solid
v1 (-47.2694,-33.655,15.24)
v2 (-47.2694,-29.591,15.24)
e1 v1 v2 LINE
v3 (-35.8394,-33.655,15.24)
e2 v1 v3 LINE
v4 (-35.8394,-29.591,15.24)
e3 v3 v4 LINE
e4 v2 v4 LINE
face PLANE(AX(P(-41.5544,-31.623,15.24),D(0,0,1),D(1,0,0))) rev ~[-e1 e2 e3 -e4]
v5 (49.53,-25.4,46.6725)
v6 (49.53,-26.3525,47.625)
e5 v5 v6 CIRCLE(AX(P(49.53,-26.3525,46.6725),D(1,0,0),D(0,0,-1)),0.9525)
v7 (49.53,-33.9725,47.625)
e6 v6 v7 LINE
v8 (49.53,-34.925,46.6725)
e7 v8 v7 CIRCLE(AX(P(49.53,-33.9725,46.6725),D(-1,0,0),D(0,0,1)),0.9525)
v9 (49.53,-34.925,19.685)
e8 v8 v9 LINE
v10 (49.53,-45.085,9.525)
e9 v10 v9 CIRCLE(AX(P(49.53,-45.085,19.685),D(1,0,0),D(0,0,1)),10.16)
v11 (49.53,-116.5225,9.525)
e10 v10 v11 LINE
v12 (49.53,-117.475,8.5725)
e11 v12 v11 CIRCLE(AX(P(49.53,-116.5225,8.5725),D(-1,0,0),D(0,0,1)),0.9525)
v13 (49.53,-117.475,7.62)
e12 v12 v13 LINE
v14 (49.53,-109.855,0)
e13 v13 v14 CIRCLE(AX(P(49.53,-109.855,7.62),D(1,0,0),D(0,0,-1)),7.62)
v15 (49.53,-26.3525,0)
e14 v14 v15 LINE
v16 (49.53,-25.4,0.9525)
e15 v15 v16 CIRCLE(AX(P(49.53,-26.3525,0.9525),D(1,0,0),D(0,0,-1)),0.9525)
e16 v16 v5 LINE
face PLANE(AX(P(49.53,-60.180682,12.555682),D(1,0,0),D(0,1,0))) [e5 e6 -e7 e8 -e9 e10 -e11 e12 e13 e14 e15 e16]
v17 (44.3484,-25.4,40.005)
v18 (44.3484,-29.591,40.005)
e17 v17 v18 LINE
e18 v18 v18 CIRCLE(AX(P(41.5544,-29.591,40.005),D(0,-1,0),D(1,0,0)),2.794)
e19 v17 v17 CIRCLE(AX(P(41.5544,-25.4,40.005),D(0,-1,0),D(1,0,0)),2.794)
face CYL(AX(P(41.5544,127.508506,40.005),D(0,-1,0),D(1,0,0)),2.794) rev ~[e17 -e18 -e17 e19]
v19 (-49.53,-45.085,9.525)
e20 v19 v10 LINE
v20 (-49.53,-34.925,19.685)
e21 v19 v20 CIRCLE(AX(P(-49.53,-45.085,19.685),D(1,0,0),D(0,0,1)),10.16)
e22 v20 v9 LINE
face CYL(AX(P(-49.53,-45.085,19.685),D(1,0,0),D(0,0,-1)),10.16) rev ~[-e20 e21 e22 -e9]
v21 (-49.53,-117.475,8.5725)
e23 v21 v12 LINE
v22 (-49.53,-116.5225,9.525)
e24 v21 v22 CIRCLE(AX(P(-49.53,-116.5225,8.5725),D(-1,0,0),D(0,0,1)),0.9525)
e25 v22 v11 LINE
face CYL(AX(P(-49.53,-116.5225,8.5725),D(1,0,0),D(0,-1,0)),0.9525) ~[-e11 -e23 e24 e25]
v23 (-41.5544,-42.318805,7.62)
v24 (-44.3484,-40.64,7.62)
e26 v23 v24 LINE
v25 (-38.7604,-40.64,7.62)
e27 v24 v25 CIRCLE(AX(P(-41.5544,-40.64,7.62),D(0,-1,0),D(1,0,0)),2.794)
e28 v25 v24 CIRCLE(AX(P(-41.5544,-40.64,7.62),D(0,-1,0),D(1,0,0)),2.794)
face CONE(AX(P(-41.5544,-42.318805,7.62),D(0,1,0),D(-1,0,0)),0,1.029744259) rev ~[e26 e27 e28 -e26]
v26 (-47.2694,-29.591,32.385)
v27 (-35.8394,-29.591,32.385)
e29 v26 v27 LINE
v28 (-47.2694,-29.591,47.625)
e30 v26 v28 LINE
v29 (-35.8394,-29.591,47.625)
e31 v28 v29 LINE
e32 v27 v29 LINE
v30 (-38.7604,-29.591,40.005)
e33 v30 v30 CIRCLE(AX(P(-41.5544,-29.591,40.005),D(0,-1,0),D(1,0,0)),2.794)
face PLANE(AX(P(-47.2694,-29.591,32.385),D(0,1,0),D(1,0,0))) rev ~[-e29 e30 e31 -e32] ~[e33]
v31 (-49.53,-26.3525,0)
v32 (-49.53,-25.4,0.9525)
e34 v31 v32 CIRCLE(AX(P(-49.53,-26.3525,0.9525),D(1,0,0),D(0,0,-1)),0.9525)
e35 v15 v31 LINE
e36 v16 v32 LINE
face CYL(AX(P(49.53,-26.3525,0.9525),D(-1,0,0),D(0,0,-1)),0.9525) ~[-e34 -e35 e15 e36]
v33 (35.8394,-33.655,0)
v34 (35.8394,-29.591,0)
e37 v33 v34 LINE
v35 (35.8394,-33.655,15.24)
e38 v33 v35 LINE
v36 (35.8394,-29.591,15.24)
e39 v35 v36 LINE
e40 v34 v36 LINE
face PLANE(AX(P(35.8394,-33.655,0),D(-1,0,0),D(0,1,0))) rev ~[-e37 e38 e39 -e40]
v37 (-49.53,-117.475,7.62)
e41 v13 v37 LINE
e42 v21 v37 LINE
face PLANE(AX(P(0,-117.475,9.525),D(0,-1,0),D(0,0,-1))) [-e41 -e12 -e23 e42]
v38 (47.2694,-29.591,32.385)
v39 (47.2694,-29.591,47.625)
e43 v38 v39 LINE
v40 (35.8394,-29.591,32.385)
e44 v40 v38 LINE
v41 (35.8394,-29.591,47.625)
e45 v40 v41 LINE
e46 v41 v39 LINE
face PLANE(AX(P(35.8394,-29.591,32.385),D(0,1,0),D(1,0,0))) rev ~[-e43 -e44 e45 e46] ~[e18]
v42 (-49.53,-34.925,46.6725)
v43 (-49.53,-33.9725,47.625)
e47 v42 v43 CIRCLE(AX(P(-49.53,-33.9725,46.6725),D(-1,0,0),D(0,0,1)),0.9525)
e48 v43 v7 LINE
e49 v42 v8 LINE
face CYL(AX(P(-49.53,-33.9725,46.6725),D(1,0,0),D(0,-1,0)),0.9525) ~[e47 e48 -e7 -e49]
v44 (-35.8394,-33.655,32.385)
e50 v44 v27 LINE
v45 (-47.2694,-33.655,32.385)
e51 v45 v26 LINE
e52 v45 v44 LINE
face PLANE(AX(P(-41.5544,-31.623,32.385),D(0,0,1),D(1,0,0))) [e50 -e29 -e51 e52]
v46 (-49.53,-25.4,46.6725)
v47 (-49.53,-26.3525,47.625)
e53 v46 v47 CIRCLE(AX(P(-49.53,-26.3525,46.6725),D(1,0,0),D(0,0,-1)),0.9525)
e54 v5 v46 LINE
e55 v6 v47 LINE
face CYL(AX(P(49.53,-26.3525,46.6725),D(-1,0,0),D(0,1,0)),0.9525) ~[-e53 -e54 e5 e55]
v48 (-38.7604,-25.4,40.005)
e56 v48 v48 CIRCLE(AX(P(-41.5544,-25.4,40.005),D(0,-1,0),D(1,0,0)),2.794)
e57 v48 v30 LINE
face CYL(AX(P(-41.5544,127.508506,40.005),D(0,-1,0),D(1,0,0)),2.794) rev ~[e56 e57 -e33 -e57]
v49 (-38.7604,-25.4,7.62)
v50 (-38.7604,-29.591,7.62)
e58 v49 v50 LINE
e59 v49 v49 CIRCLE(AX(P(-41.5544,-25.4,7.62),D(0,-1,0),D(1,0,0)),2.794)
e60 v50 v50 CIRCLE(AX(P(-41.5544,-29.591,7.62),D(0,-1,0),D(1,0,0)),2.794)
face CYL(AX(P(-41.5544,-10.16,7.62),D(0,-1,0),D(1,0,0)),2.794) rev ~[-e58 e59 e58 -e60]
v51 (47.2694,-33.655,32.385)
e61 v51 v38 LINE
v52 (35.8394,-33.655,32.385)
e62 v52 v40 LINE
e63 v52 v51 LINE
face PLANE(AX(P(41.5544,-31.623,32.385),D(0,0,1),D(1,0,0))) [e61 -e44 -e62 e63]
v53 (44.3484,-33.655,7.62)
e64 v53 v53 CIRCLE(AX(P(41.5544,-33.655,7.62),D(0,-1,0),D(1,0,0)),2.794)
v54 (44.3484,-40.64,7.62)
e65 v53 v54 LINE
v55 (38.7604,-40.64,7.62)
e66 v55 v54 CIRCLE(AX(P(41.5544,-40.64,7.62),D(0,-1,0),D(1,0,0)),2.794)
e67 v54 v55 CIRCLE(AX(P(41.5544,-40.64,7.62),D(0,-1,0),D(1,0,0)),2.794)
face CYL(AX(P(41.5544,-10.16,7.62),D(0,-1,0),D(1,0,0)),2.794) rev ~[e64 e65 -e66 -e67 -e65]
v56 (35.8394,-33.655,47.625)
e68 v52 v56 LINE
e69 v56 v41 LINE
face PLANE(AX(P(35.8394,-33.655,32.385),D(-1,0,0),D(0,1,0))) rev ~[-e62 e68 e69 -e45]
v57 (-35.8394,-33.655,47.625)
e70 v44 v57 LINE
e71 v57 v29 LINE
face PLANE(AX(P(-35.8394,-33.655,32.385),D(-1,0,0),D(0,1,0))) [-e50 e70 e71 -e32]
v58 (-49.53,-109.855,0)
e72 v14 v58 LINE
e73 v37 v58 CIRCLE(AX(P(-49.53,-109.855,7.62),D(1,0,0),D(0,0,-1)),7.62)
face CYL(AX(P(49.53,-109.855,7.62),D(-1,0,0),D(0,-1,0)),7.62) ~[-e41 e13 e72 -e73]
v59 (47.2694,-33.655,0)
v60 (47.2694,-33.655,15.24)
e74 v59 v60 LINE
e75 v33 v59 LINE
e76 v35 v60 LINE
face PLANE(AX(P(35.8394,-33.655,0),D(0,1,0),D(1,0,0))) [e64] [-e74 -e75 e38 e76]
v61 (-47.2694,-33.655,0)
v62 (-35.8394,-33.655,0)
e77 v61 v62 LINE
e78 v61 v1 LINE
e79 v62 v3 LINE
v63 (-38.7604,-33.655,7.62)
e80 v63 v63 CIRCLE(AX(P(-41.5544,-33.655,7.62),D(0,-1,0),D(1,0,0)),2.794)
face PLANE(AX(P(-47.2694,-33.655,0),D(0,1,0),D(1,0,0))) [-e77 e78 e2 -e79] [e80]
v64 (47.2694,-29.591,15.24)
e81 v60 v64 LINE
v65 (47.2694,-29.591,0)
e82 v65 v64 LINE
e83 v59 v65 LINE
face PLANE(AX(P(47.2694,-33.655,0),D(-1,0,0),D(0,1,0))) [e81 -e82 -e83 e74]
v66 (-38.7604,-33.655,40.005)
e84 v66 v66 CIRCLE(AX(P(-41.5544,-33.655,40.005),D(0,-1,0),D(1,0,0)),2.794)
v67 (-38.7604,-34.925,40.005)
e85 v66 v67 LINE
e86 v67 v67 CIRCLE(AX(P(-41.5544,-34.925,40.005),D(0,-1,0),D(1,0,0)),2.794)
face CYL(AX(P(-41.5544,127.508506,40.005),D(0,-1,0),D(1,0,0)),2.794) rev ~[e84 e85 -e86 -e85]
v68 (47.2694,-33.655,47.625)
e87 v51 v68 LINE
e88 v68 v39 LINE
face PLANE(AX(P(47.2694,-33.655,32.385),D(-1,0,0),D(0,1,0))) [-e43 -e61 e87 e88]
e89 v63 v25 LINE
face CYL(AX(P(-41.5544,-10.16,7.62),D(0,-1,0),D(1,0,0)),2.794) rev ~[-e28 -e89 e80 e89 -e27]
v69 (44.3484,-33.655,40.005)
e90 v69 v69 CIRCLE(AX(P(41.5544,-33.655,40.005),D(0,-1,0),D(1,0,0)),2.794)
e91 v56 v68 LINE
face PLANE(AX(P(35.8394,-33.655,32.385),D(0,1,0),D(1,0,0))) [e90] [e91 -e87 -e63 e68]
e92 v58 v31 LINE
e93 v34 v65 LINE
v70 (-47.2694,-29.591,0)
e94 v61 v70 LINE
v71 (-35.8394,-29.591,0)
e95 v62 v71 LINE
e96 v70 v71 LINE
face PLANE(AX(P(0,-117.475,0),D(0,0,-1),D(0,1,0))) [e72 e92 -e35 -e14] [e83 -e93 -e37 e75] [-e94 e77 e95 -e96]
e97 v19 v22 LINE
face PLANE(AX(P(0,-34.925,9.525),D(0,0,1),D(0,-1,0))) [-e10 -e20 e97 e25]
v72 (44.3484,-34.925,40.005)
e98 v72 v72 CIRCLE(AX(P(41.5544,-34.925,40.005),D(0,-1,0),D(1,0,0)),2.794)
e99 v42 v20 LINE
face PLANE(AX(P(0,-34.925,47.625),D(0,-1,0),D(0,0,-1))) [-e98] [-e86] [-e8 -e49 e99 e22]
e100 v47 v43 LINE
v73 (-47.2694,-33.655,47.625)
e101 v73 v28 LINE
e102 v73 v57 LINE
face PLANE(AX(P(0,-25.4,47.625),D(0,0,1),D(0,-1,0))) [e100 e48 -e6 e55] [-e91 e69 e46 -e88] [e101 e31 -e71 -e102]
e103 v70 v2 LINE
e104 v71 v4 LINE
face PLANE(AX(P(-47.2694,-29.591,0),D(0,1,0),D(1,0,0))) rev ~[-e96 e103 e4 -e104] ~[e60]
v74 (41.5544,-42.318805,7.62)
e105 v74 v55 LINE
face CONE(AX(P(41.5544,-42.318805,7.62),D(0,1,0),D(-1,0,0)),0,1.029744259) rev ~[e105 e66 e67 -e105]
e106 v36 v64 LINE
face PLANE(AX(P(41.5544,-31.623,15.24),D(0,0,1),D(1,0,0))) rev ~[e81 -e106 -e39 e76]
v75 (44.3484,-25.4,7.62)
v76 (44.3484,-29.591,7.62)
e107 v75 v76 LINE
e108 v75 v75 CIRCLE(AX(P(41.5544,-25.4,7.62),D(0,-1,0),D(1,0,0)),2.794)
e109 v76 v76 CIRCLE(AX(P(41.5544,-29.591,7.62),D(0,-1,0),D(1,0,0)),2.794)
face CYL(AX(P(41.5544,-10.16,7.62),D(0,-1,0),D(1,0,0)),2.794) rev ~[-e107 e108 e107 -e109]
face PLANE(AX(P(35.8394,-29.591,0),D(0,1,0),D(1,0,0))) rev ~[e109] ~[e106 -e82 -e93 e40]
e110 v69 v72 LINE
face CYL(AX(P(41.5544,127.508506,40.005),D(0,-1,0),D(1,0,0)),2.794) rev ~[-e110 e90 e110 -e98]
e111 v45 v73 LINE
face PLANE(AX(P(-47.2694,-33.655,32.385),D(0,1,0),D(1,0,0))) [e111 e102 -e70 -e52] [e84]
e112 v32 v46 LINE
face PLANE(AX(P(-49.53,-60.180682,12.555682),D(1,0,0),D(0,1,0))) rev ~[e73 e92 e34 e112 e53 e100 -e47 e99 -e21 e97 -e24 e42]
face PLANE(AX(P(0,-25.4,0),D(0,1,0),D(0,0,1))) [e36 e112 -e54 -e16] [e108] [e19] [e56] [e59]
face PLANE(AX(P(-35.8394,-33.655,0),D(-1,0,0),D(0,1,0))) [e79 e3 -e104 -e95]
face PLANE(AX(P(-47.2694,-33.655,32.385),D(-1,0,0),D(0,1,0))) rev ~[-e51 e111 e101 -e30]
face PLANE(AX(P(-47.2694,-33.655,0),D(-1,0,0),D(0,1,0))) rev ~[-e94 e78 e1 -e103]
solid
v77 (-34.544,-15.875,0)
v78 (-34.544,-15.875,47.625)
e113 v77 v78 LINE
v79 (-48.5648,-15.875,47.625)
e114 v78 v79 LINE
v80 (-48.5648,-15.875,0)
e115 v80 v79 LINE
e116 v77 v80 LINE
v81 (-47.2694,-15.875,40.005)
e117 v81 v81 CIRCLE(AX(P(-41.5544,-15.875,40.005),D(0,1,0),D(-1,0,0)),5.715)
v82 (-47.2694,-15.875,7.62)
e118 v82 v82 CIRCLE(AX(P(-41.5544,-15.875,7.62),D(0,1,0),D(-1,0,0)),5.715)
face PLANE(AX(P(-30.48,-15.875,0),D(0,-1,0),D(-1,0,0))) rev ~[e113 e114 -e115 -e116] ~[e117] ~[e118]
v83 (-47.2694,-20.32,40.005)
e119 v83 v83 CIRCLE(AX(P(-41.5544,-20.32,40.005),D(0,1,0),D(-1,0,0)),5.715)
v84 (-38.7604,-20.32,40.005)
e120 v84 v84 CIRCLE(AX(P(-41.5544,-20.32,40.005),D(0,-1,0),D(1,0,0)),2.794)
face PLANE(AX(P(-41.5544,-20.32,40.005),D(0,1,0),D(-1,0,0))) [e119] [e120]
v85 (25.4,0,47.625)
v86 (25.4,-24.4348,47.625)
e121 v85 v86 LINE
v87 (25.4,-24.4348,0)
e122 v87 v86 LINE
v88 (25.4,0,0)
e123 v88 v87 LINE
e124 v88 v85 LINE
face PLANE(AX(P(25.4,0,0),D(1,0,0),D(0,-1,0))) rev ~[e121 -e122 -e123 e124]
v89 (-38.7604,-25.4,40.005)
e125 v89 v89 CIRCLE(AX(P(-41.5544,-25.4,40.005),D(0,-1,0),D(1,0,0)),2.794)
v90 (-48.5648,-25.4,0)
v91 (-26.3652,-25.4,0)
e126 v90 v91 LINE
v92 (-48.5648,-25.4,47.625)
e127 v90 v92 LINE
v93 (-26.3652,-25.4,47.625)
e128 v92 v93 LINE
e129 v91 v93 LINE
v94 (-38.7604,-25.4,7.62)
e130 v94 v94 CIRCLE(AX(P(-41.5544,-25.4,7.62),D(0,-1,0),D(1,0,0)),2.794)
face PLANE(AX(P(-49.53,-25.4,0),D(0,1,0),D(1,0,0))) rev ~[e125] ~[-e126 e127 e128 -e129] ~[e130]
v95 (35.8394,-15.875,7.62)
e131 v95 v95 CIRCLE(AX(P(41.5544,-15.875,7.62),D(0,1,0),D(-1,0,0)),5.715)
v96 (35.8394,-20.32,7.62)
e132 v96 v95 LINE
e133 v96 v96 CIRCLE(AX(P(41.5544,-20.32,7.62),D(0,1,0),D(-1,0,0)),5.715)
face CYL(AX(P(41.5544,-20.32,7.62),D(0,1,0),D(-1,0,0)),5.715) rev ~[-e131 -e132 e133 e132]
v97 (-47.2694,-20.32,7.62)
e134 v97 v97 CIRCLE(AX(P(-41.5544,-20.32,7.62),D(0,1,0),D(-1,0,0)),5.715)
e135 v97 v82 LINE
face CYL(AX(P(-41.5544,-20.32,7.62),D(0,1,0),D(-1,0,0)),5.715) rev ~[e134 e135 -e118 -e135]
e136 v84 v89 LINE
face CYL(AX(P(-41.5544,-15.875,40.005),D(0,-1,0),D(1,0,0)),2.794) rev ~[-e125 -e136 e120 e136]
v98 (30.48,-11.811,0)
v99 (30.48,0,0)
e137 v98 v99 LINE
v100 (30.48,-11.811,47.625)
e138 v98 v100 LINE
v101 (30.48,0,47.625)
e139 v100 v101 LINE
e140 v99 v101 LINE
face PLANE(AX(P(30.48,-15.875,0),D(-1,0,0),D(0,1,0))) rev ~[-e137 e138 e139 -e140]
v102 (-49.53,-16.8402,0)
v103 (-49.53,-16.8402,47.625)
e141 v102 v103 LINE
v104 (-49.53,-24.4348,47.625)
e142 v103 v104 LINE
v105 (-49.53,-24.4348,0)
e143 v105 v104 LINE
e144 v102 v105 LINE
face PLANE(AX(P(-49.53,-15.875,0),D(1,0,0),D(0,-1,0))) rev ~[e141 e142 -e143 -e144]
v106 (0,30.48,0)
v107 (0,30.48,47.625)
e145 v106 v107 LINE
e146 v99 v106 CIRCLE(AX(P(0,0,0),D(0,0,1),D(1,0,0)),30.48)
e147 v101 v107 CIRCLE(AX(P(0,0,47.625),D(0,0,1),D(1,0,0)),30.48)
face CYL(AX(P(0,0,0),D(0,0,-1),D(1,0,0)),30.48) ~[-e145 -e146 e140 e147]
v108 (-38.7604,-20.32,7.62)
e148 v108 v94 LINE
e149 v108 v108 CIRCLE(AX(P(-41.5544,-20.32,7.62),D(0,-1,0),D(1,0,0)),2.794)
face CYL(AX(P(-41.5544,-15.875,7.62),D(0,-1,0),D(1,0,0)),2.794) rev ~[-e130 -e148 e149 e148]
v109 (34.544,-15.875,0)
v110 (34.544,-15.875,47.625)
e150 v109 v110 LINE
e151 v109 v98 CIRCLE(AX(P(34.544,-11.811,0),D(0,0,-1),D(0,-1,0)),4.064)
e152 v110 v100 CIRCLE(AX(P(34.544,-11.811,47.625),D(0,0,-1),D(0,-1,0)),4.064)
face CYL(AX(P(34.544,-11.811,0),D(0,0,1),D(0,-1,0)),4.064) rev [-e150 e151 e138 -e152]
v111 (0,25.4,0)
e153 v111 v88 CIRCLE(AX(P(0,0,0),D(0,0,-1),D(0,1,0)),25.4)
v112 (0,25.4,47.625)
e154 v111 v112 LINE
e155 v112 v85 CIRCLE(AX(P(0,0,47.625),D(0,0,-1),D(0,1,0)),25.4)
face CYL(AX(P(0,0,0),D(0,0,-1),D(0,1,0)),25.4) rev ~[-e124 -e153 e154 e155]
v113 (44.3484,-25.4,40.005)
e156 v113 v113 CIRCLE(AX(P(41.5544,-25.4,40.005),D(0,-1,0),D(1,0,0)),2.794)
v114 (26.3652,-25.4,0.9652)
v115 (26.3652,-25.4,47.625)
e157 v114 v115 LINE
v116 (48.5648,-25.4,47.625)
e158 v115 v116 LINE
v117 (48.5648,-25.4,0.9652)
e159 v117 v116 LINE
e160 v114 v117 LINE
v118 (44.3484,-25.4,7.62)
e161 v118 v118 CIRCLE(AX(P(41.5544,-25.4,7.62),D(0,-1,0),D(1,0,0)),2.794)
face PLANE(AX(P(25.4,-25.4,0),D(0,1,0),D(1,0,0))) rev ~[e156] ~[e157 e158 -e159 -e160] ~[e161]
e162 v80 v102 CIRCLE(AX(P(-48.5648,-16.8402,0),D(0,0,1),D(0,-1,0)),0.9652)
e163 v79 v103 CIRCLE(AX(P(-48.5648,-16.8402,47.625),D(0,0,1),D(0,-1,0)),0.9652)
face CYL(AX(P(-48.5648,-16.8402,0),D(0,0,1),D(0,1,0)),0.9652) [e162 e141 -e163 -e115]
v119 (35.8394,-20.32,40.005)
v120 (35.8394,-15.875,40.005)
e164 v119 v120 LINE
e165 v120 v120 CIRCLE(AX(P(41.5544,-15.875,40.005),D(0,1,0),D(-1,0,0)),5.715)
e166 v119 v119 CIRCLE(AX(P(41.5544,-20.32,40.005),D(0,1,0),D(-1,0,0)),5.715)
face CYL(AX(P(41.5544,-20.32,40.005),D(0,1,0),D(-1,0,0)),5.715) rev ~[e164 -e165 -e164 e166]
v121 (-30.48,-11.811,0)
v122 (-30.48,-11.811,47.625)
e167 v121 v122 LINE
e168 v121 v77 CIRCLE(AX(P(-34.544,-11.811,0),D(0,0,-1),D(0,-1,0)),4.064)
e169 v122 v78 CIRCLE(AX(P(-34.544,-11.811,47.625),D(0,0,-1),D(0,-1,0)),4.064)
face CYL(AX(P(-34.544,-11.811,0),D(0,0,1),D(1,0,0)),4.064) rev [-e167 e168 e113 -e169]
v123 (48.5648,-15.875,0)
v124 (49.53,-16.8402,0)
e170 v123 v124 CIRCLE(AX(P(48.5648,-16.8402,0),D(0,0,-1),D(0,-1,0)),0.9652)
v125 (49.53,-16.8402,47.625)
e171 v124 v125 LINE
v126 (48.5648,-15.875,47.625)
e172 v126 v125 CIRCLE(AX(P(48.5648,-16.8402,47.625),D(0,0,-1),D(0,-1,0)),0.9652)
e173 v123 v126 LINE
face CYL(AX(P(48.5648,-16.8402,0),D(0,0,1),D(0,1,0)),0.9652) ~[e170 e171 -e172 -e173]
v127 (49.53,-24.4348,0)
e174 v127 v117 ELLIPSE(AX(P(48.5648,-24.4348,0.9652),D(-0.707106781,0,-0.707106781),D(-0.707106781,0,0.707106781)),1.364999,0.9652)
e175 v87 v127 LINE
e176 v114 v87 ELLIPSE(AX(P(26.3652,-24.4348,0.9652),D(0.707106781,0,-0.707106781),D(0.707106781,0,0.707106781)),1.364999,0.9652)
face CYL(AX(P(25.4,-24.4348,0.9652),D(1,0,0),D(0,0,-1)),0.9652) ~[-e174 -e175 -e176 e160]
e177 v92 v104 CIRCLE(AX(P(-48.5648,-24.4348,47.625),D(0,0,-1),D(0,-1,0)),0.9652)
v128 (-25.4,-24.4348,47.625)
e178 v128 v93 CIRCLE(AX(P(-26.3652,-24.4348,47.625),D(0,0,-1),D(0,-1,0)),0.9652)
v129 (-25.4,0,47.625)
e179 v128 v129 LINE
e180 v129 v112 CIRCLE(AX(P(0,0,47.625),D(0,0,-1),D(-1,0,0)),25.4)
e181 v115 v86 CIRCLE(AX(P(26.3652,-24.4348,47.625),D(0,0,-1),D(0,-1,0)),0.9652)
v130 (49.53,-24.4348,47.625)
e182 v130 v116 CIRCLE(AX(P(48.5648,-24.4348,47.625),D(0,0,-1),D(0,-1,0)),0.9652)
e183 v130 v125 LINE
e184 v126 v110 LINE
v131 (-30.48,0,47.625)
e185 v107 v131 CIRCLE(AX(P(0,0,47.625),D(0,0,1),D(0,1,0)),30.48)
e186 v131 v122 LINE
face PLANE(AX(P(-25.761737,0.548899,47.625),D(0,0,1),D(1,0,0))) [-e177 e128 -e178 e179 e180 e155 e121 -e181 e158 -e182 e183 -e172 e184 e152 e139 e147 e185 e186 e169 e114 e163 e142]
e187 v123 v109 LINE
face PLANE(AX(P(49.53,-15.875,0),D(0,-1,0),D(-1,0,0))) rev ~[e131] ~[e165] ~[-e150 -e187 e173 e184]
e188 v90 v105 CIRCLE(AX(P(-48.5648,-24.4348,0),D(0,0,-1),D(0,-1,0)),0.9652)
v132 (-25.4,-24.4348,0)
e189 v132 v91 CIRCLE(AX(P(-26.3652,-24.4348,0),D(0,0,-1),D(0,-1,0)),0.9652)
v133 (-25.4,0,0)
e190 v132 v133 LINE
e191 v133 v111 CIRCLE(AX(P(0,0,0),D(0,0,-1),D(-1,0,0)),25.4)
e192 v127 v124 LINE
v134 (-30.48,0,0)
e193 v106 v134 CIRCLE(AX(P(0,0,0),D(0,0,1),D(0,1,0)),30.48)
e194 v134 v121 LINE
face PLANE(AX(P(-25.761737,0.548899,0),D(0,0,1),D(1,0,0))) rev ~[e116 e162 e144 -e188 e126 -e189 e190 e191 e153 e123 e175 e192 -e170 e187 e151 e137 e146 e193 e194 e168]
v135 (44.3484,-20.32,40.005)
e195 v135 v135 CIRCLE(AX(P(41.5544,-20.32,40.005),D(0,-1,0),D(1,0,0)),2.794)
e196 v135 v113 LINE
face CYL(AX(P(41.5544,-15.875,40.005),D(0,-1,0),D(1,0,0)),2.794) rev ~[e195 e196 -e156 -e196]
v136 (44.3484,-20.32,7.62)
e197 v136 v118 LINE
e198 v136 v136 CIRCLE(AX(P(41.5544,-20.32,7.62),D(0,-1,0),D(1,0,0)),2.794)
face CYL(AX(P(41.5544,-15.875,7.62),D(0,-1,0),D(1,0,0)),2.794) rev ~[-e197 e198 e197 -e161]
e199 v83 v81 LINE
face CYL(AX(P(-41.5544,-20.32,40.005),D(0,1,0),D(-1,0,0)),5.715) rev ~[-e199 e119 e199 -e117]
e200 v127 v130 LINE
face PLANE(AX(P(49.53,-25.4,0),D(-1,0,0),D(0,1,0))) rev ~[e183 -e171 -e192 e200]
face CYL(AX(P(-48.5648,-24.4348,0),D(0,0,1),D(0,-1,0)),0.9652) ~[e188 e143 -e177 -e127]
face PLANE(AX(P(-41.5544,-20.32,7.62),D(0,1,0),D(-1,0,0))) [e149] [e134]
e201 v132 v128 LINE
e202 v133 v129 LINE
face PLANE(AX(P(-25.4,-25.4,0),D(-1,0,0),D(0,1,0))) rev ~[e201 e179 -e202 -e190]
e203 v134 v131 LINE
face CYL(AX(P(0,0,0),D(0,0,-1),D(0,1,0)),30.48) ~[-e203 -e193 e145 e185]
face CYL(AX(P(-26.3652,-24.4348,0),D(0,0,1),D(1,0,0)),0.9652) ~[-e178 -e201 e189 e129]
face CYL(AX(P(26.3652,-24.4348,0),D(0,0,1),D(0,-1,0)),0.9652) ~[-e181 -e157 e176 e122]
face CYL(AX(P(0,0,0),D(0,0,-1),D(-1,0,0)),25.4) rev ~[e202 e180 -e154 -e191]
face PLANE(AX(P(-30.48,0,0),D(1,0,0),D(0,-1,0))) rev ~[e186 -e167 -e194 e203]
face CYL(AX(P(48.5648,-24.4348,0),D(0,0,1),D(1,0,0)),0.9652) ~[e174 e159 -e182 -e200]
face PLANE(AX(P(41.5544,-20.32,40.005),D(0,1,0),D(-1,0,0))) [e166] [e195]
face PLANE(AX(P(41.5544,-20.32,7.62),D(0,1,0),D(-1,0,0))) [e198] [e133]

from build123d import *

# Parameters (mm, degrees)
F1_DEPTH       = 47.625
F2_R           = 4.064
F3_R           = 0.9652
F5_D           = 5.588
F5_CBORE_D     = 11.43
F5_CBORE_DEPTH = 4.445
F7_DEPTH       = 49.53
F8_R           = 10.16
F9_R           = 7.62
F10_R          = 0.9525
F11_W          = 11.43
F11_H          = 4.064
F12_DEPTH      = 15.24
F13_D          = 5.588
F13_DEPTH      = 15.24
F13_START      = 9.525
F13_TIP        = 1.6788045696
F14_D          = 5.588
F15_START      = 32.385
F15_DEPTH      = 15.24


with BuildPart() as f1:
    # F0 (on Top) → F1 (new body)
    with BuildSketch(Plane.XY):
        with BuildLine():
            Line((-25.4, -25.4), (-25.4, 0))
            ThreePointArc((-25.4, 0), (-17.9605122421, 17.9605122421), (0, 25.4))
            Line((0, 25.4), (0, 30.48))
            ThreePointArc((0, 30.48), (-21.5526146906, 21.5526146906), (-30.48, 0))
            Line((-30.48, 0), (-30.48, -15.875))
            Line((-30.48, -15.875), (-49.53, -15.875))
            Line((-49.53, -15.875), (-49.53, -25.4))
            Line((-49.53, -25.4), (-25.4, -25.4))
        make_face()
        with BuildLine():
            Line((0, 30.48), (0, 25.4))
            ThreePointArc((0, 25.4), (17.9605122421, 17.9605122421), (25.4, 0))
            Line((25.4, 0), (25.4, -25.4))
            Line((25.4, -25.4), (49.53, -25.4))
            Line((49.53, -25.4), (49.53, -15.875))
            Line((49.53, -15.875), (30.48, -15.875))
            Line((30.48, -15.875), (30.48, 0))
            ThreePointArc((30.48, 0), (21.5526146906, 21.5526146906), (0, 30.48))
        make_face()
    extrude(amount=F1_DEPTH)

    # F2
    f2_edges = [f1.edges().sort_by_distance(p)[0] for p in [
        (-30.48, -15.875, 23.8125),
        (30.48, -15.875, 23.8125),
    ]]
    fillet(f2_edges, radius=F2_R)

    # F3
    f3_edges = [f1.edges().sort_by_distance(p)[0] for p in [
        (49.53, -15.875, 23.8125),
        (49.53, -25.4, 23.8125),
        (25.4, -25.4, 23.8125),
        (37.465, -25.4, 0),
        (-25.4, -25.4, 23.8125),
        (-49.53, -25.4, 23.8125),
        (-49.53, -15.875, 23.8125),
    ]]
    fillet(f3_edges, radius=F3_R)

    # F5 (through all)
    with Locations(Plane(origin=(0, -15.875, 0), x_dir=(-1, 0, 0), z_dir=(0, 1, 0))):
        with Locations((-41.5544, 40.005), (-41.5544, 7.62), (41.5544, 40.005), (41.5544, 7.62)):
            CounterBoreHole(F5_D / 2, F5_CBORE_D / 2, F5_CBORE_DEPTH)


with BuildPart() as f7:
    # F6 (on Right) → F7 (new body, symmetric)
    with BuildSketch(Plane.YZ):
        Polygon((-25.4, 47.625), (-34.925, 47.625), (-34.925, 9.525), (-117.475, 9.525), (-117.475, 0), (-25.4, 0), align=None)
    extrude(amount=F7_DEPTH, both=True)

    # F8
    f8_edges = [f7.edges().sort_by_distance(p)[0] for p in [
        (0, -34.925, 9.525),
    ]]
    fillet(f8_edges, radius=F8_R)

    # F9
    f9_edges = [f7.edges().sort_by_distance(p)[0] for p in [
        (0, -117.475, 0),
    ]]
    fillet(f9_edges, radius=F9_R)

    # F10
    f10_edges = [f7.edges().sort_by_distance(p)[0] for p in [
        (0, -117.475, 9.525),
        (0, -34.925, 47.625),
        (0, -25.4, 47.625),
        (0, -25.4, 0),
    ]]
    fillet(f10_edges, radius=F10_R)

    # F11 (on Top) → F12 (cut)
    with BuildSketch(Plane.XY):
        with Locations((41.5544, -31.623)):
            Rectangle(F11_W, F11_H)
        with Locations((-41.5544, -31.623)):
            Rectangle(F11_W, F11_H)
    extrude(amount=F12_DEPTH, mode=Mode.SUBTRACT)

    # F13
    # its depths count from where the whole tool has entered the part; down to there all is cleared
    with Locations(Plane(origin=(0, -15.875, 0), x_dir=(-1, 0, 0), z_dir=(0, 1, 0)).offset(-F13_START)):
        with Locations((-41.5544, 7.62), (41.5544, 7.62)):
            Hole(F13_D / 2, depth=F13_DEPTH)
            with Locations((0, 0, -(F13_DEPTH + F13_TIP / 2))):  # 118° drill point
                Cone(0, F13_D / 2, F13_TIP, mode=Mode.SUBTRACT)

    # F14 (through all)
    with Locations(Plane(origin=(0, -15.875, 0), x_dir=(-1, 0, 0), z_dir=(0, 1, 0))):
        with Locations((-41.5544, 40.005), (41.5544, 40.005)):
            Hole(F14_D / 2)

    # F11 (on Top) → F15 (cut)
    with BuildSketch(Plane.XY.offset(F15_START)):
        with Locations((41.5544, -31.623)):
            Rectangle(F11_W, F11_H)
        with Locations((-41.5544, -31.623)):
            Rectangle(F11_W, F11_H)
    extrude(amount=F15_DEPTH, mode=Mode.SUBTRACT)


solid = Compound([f1.part, f7.part])
